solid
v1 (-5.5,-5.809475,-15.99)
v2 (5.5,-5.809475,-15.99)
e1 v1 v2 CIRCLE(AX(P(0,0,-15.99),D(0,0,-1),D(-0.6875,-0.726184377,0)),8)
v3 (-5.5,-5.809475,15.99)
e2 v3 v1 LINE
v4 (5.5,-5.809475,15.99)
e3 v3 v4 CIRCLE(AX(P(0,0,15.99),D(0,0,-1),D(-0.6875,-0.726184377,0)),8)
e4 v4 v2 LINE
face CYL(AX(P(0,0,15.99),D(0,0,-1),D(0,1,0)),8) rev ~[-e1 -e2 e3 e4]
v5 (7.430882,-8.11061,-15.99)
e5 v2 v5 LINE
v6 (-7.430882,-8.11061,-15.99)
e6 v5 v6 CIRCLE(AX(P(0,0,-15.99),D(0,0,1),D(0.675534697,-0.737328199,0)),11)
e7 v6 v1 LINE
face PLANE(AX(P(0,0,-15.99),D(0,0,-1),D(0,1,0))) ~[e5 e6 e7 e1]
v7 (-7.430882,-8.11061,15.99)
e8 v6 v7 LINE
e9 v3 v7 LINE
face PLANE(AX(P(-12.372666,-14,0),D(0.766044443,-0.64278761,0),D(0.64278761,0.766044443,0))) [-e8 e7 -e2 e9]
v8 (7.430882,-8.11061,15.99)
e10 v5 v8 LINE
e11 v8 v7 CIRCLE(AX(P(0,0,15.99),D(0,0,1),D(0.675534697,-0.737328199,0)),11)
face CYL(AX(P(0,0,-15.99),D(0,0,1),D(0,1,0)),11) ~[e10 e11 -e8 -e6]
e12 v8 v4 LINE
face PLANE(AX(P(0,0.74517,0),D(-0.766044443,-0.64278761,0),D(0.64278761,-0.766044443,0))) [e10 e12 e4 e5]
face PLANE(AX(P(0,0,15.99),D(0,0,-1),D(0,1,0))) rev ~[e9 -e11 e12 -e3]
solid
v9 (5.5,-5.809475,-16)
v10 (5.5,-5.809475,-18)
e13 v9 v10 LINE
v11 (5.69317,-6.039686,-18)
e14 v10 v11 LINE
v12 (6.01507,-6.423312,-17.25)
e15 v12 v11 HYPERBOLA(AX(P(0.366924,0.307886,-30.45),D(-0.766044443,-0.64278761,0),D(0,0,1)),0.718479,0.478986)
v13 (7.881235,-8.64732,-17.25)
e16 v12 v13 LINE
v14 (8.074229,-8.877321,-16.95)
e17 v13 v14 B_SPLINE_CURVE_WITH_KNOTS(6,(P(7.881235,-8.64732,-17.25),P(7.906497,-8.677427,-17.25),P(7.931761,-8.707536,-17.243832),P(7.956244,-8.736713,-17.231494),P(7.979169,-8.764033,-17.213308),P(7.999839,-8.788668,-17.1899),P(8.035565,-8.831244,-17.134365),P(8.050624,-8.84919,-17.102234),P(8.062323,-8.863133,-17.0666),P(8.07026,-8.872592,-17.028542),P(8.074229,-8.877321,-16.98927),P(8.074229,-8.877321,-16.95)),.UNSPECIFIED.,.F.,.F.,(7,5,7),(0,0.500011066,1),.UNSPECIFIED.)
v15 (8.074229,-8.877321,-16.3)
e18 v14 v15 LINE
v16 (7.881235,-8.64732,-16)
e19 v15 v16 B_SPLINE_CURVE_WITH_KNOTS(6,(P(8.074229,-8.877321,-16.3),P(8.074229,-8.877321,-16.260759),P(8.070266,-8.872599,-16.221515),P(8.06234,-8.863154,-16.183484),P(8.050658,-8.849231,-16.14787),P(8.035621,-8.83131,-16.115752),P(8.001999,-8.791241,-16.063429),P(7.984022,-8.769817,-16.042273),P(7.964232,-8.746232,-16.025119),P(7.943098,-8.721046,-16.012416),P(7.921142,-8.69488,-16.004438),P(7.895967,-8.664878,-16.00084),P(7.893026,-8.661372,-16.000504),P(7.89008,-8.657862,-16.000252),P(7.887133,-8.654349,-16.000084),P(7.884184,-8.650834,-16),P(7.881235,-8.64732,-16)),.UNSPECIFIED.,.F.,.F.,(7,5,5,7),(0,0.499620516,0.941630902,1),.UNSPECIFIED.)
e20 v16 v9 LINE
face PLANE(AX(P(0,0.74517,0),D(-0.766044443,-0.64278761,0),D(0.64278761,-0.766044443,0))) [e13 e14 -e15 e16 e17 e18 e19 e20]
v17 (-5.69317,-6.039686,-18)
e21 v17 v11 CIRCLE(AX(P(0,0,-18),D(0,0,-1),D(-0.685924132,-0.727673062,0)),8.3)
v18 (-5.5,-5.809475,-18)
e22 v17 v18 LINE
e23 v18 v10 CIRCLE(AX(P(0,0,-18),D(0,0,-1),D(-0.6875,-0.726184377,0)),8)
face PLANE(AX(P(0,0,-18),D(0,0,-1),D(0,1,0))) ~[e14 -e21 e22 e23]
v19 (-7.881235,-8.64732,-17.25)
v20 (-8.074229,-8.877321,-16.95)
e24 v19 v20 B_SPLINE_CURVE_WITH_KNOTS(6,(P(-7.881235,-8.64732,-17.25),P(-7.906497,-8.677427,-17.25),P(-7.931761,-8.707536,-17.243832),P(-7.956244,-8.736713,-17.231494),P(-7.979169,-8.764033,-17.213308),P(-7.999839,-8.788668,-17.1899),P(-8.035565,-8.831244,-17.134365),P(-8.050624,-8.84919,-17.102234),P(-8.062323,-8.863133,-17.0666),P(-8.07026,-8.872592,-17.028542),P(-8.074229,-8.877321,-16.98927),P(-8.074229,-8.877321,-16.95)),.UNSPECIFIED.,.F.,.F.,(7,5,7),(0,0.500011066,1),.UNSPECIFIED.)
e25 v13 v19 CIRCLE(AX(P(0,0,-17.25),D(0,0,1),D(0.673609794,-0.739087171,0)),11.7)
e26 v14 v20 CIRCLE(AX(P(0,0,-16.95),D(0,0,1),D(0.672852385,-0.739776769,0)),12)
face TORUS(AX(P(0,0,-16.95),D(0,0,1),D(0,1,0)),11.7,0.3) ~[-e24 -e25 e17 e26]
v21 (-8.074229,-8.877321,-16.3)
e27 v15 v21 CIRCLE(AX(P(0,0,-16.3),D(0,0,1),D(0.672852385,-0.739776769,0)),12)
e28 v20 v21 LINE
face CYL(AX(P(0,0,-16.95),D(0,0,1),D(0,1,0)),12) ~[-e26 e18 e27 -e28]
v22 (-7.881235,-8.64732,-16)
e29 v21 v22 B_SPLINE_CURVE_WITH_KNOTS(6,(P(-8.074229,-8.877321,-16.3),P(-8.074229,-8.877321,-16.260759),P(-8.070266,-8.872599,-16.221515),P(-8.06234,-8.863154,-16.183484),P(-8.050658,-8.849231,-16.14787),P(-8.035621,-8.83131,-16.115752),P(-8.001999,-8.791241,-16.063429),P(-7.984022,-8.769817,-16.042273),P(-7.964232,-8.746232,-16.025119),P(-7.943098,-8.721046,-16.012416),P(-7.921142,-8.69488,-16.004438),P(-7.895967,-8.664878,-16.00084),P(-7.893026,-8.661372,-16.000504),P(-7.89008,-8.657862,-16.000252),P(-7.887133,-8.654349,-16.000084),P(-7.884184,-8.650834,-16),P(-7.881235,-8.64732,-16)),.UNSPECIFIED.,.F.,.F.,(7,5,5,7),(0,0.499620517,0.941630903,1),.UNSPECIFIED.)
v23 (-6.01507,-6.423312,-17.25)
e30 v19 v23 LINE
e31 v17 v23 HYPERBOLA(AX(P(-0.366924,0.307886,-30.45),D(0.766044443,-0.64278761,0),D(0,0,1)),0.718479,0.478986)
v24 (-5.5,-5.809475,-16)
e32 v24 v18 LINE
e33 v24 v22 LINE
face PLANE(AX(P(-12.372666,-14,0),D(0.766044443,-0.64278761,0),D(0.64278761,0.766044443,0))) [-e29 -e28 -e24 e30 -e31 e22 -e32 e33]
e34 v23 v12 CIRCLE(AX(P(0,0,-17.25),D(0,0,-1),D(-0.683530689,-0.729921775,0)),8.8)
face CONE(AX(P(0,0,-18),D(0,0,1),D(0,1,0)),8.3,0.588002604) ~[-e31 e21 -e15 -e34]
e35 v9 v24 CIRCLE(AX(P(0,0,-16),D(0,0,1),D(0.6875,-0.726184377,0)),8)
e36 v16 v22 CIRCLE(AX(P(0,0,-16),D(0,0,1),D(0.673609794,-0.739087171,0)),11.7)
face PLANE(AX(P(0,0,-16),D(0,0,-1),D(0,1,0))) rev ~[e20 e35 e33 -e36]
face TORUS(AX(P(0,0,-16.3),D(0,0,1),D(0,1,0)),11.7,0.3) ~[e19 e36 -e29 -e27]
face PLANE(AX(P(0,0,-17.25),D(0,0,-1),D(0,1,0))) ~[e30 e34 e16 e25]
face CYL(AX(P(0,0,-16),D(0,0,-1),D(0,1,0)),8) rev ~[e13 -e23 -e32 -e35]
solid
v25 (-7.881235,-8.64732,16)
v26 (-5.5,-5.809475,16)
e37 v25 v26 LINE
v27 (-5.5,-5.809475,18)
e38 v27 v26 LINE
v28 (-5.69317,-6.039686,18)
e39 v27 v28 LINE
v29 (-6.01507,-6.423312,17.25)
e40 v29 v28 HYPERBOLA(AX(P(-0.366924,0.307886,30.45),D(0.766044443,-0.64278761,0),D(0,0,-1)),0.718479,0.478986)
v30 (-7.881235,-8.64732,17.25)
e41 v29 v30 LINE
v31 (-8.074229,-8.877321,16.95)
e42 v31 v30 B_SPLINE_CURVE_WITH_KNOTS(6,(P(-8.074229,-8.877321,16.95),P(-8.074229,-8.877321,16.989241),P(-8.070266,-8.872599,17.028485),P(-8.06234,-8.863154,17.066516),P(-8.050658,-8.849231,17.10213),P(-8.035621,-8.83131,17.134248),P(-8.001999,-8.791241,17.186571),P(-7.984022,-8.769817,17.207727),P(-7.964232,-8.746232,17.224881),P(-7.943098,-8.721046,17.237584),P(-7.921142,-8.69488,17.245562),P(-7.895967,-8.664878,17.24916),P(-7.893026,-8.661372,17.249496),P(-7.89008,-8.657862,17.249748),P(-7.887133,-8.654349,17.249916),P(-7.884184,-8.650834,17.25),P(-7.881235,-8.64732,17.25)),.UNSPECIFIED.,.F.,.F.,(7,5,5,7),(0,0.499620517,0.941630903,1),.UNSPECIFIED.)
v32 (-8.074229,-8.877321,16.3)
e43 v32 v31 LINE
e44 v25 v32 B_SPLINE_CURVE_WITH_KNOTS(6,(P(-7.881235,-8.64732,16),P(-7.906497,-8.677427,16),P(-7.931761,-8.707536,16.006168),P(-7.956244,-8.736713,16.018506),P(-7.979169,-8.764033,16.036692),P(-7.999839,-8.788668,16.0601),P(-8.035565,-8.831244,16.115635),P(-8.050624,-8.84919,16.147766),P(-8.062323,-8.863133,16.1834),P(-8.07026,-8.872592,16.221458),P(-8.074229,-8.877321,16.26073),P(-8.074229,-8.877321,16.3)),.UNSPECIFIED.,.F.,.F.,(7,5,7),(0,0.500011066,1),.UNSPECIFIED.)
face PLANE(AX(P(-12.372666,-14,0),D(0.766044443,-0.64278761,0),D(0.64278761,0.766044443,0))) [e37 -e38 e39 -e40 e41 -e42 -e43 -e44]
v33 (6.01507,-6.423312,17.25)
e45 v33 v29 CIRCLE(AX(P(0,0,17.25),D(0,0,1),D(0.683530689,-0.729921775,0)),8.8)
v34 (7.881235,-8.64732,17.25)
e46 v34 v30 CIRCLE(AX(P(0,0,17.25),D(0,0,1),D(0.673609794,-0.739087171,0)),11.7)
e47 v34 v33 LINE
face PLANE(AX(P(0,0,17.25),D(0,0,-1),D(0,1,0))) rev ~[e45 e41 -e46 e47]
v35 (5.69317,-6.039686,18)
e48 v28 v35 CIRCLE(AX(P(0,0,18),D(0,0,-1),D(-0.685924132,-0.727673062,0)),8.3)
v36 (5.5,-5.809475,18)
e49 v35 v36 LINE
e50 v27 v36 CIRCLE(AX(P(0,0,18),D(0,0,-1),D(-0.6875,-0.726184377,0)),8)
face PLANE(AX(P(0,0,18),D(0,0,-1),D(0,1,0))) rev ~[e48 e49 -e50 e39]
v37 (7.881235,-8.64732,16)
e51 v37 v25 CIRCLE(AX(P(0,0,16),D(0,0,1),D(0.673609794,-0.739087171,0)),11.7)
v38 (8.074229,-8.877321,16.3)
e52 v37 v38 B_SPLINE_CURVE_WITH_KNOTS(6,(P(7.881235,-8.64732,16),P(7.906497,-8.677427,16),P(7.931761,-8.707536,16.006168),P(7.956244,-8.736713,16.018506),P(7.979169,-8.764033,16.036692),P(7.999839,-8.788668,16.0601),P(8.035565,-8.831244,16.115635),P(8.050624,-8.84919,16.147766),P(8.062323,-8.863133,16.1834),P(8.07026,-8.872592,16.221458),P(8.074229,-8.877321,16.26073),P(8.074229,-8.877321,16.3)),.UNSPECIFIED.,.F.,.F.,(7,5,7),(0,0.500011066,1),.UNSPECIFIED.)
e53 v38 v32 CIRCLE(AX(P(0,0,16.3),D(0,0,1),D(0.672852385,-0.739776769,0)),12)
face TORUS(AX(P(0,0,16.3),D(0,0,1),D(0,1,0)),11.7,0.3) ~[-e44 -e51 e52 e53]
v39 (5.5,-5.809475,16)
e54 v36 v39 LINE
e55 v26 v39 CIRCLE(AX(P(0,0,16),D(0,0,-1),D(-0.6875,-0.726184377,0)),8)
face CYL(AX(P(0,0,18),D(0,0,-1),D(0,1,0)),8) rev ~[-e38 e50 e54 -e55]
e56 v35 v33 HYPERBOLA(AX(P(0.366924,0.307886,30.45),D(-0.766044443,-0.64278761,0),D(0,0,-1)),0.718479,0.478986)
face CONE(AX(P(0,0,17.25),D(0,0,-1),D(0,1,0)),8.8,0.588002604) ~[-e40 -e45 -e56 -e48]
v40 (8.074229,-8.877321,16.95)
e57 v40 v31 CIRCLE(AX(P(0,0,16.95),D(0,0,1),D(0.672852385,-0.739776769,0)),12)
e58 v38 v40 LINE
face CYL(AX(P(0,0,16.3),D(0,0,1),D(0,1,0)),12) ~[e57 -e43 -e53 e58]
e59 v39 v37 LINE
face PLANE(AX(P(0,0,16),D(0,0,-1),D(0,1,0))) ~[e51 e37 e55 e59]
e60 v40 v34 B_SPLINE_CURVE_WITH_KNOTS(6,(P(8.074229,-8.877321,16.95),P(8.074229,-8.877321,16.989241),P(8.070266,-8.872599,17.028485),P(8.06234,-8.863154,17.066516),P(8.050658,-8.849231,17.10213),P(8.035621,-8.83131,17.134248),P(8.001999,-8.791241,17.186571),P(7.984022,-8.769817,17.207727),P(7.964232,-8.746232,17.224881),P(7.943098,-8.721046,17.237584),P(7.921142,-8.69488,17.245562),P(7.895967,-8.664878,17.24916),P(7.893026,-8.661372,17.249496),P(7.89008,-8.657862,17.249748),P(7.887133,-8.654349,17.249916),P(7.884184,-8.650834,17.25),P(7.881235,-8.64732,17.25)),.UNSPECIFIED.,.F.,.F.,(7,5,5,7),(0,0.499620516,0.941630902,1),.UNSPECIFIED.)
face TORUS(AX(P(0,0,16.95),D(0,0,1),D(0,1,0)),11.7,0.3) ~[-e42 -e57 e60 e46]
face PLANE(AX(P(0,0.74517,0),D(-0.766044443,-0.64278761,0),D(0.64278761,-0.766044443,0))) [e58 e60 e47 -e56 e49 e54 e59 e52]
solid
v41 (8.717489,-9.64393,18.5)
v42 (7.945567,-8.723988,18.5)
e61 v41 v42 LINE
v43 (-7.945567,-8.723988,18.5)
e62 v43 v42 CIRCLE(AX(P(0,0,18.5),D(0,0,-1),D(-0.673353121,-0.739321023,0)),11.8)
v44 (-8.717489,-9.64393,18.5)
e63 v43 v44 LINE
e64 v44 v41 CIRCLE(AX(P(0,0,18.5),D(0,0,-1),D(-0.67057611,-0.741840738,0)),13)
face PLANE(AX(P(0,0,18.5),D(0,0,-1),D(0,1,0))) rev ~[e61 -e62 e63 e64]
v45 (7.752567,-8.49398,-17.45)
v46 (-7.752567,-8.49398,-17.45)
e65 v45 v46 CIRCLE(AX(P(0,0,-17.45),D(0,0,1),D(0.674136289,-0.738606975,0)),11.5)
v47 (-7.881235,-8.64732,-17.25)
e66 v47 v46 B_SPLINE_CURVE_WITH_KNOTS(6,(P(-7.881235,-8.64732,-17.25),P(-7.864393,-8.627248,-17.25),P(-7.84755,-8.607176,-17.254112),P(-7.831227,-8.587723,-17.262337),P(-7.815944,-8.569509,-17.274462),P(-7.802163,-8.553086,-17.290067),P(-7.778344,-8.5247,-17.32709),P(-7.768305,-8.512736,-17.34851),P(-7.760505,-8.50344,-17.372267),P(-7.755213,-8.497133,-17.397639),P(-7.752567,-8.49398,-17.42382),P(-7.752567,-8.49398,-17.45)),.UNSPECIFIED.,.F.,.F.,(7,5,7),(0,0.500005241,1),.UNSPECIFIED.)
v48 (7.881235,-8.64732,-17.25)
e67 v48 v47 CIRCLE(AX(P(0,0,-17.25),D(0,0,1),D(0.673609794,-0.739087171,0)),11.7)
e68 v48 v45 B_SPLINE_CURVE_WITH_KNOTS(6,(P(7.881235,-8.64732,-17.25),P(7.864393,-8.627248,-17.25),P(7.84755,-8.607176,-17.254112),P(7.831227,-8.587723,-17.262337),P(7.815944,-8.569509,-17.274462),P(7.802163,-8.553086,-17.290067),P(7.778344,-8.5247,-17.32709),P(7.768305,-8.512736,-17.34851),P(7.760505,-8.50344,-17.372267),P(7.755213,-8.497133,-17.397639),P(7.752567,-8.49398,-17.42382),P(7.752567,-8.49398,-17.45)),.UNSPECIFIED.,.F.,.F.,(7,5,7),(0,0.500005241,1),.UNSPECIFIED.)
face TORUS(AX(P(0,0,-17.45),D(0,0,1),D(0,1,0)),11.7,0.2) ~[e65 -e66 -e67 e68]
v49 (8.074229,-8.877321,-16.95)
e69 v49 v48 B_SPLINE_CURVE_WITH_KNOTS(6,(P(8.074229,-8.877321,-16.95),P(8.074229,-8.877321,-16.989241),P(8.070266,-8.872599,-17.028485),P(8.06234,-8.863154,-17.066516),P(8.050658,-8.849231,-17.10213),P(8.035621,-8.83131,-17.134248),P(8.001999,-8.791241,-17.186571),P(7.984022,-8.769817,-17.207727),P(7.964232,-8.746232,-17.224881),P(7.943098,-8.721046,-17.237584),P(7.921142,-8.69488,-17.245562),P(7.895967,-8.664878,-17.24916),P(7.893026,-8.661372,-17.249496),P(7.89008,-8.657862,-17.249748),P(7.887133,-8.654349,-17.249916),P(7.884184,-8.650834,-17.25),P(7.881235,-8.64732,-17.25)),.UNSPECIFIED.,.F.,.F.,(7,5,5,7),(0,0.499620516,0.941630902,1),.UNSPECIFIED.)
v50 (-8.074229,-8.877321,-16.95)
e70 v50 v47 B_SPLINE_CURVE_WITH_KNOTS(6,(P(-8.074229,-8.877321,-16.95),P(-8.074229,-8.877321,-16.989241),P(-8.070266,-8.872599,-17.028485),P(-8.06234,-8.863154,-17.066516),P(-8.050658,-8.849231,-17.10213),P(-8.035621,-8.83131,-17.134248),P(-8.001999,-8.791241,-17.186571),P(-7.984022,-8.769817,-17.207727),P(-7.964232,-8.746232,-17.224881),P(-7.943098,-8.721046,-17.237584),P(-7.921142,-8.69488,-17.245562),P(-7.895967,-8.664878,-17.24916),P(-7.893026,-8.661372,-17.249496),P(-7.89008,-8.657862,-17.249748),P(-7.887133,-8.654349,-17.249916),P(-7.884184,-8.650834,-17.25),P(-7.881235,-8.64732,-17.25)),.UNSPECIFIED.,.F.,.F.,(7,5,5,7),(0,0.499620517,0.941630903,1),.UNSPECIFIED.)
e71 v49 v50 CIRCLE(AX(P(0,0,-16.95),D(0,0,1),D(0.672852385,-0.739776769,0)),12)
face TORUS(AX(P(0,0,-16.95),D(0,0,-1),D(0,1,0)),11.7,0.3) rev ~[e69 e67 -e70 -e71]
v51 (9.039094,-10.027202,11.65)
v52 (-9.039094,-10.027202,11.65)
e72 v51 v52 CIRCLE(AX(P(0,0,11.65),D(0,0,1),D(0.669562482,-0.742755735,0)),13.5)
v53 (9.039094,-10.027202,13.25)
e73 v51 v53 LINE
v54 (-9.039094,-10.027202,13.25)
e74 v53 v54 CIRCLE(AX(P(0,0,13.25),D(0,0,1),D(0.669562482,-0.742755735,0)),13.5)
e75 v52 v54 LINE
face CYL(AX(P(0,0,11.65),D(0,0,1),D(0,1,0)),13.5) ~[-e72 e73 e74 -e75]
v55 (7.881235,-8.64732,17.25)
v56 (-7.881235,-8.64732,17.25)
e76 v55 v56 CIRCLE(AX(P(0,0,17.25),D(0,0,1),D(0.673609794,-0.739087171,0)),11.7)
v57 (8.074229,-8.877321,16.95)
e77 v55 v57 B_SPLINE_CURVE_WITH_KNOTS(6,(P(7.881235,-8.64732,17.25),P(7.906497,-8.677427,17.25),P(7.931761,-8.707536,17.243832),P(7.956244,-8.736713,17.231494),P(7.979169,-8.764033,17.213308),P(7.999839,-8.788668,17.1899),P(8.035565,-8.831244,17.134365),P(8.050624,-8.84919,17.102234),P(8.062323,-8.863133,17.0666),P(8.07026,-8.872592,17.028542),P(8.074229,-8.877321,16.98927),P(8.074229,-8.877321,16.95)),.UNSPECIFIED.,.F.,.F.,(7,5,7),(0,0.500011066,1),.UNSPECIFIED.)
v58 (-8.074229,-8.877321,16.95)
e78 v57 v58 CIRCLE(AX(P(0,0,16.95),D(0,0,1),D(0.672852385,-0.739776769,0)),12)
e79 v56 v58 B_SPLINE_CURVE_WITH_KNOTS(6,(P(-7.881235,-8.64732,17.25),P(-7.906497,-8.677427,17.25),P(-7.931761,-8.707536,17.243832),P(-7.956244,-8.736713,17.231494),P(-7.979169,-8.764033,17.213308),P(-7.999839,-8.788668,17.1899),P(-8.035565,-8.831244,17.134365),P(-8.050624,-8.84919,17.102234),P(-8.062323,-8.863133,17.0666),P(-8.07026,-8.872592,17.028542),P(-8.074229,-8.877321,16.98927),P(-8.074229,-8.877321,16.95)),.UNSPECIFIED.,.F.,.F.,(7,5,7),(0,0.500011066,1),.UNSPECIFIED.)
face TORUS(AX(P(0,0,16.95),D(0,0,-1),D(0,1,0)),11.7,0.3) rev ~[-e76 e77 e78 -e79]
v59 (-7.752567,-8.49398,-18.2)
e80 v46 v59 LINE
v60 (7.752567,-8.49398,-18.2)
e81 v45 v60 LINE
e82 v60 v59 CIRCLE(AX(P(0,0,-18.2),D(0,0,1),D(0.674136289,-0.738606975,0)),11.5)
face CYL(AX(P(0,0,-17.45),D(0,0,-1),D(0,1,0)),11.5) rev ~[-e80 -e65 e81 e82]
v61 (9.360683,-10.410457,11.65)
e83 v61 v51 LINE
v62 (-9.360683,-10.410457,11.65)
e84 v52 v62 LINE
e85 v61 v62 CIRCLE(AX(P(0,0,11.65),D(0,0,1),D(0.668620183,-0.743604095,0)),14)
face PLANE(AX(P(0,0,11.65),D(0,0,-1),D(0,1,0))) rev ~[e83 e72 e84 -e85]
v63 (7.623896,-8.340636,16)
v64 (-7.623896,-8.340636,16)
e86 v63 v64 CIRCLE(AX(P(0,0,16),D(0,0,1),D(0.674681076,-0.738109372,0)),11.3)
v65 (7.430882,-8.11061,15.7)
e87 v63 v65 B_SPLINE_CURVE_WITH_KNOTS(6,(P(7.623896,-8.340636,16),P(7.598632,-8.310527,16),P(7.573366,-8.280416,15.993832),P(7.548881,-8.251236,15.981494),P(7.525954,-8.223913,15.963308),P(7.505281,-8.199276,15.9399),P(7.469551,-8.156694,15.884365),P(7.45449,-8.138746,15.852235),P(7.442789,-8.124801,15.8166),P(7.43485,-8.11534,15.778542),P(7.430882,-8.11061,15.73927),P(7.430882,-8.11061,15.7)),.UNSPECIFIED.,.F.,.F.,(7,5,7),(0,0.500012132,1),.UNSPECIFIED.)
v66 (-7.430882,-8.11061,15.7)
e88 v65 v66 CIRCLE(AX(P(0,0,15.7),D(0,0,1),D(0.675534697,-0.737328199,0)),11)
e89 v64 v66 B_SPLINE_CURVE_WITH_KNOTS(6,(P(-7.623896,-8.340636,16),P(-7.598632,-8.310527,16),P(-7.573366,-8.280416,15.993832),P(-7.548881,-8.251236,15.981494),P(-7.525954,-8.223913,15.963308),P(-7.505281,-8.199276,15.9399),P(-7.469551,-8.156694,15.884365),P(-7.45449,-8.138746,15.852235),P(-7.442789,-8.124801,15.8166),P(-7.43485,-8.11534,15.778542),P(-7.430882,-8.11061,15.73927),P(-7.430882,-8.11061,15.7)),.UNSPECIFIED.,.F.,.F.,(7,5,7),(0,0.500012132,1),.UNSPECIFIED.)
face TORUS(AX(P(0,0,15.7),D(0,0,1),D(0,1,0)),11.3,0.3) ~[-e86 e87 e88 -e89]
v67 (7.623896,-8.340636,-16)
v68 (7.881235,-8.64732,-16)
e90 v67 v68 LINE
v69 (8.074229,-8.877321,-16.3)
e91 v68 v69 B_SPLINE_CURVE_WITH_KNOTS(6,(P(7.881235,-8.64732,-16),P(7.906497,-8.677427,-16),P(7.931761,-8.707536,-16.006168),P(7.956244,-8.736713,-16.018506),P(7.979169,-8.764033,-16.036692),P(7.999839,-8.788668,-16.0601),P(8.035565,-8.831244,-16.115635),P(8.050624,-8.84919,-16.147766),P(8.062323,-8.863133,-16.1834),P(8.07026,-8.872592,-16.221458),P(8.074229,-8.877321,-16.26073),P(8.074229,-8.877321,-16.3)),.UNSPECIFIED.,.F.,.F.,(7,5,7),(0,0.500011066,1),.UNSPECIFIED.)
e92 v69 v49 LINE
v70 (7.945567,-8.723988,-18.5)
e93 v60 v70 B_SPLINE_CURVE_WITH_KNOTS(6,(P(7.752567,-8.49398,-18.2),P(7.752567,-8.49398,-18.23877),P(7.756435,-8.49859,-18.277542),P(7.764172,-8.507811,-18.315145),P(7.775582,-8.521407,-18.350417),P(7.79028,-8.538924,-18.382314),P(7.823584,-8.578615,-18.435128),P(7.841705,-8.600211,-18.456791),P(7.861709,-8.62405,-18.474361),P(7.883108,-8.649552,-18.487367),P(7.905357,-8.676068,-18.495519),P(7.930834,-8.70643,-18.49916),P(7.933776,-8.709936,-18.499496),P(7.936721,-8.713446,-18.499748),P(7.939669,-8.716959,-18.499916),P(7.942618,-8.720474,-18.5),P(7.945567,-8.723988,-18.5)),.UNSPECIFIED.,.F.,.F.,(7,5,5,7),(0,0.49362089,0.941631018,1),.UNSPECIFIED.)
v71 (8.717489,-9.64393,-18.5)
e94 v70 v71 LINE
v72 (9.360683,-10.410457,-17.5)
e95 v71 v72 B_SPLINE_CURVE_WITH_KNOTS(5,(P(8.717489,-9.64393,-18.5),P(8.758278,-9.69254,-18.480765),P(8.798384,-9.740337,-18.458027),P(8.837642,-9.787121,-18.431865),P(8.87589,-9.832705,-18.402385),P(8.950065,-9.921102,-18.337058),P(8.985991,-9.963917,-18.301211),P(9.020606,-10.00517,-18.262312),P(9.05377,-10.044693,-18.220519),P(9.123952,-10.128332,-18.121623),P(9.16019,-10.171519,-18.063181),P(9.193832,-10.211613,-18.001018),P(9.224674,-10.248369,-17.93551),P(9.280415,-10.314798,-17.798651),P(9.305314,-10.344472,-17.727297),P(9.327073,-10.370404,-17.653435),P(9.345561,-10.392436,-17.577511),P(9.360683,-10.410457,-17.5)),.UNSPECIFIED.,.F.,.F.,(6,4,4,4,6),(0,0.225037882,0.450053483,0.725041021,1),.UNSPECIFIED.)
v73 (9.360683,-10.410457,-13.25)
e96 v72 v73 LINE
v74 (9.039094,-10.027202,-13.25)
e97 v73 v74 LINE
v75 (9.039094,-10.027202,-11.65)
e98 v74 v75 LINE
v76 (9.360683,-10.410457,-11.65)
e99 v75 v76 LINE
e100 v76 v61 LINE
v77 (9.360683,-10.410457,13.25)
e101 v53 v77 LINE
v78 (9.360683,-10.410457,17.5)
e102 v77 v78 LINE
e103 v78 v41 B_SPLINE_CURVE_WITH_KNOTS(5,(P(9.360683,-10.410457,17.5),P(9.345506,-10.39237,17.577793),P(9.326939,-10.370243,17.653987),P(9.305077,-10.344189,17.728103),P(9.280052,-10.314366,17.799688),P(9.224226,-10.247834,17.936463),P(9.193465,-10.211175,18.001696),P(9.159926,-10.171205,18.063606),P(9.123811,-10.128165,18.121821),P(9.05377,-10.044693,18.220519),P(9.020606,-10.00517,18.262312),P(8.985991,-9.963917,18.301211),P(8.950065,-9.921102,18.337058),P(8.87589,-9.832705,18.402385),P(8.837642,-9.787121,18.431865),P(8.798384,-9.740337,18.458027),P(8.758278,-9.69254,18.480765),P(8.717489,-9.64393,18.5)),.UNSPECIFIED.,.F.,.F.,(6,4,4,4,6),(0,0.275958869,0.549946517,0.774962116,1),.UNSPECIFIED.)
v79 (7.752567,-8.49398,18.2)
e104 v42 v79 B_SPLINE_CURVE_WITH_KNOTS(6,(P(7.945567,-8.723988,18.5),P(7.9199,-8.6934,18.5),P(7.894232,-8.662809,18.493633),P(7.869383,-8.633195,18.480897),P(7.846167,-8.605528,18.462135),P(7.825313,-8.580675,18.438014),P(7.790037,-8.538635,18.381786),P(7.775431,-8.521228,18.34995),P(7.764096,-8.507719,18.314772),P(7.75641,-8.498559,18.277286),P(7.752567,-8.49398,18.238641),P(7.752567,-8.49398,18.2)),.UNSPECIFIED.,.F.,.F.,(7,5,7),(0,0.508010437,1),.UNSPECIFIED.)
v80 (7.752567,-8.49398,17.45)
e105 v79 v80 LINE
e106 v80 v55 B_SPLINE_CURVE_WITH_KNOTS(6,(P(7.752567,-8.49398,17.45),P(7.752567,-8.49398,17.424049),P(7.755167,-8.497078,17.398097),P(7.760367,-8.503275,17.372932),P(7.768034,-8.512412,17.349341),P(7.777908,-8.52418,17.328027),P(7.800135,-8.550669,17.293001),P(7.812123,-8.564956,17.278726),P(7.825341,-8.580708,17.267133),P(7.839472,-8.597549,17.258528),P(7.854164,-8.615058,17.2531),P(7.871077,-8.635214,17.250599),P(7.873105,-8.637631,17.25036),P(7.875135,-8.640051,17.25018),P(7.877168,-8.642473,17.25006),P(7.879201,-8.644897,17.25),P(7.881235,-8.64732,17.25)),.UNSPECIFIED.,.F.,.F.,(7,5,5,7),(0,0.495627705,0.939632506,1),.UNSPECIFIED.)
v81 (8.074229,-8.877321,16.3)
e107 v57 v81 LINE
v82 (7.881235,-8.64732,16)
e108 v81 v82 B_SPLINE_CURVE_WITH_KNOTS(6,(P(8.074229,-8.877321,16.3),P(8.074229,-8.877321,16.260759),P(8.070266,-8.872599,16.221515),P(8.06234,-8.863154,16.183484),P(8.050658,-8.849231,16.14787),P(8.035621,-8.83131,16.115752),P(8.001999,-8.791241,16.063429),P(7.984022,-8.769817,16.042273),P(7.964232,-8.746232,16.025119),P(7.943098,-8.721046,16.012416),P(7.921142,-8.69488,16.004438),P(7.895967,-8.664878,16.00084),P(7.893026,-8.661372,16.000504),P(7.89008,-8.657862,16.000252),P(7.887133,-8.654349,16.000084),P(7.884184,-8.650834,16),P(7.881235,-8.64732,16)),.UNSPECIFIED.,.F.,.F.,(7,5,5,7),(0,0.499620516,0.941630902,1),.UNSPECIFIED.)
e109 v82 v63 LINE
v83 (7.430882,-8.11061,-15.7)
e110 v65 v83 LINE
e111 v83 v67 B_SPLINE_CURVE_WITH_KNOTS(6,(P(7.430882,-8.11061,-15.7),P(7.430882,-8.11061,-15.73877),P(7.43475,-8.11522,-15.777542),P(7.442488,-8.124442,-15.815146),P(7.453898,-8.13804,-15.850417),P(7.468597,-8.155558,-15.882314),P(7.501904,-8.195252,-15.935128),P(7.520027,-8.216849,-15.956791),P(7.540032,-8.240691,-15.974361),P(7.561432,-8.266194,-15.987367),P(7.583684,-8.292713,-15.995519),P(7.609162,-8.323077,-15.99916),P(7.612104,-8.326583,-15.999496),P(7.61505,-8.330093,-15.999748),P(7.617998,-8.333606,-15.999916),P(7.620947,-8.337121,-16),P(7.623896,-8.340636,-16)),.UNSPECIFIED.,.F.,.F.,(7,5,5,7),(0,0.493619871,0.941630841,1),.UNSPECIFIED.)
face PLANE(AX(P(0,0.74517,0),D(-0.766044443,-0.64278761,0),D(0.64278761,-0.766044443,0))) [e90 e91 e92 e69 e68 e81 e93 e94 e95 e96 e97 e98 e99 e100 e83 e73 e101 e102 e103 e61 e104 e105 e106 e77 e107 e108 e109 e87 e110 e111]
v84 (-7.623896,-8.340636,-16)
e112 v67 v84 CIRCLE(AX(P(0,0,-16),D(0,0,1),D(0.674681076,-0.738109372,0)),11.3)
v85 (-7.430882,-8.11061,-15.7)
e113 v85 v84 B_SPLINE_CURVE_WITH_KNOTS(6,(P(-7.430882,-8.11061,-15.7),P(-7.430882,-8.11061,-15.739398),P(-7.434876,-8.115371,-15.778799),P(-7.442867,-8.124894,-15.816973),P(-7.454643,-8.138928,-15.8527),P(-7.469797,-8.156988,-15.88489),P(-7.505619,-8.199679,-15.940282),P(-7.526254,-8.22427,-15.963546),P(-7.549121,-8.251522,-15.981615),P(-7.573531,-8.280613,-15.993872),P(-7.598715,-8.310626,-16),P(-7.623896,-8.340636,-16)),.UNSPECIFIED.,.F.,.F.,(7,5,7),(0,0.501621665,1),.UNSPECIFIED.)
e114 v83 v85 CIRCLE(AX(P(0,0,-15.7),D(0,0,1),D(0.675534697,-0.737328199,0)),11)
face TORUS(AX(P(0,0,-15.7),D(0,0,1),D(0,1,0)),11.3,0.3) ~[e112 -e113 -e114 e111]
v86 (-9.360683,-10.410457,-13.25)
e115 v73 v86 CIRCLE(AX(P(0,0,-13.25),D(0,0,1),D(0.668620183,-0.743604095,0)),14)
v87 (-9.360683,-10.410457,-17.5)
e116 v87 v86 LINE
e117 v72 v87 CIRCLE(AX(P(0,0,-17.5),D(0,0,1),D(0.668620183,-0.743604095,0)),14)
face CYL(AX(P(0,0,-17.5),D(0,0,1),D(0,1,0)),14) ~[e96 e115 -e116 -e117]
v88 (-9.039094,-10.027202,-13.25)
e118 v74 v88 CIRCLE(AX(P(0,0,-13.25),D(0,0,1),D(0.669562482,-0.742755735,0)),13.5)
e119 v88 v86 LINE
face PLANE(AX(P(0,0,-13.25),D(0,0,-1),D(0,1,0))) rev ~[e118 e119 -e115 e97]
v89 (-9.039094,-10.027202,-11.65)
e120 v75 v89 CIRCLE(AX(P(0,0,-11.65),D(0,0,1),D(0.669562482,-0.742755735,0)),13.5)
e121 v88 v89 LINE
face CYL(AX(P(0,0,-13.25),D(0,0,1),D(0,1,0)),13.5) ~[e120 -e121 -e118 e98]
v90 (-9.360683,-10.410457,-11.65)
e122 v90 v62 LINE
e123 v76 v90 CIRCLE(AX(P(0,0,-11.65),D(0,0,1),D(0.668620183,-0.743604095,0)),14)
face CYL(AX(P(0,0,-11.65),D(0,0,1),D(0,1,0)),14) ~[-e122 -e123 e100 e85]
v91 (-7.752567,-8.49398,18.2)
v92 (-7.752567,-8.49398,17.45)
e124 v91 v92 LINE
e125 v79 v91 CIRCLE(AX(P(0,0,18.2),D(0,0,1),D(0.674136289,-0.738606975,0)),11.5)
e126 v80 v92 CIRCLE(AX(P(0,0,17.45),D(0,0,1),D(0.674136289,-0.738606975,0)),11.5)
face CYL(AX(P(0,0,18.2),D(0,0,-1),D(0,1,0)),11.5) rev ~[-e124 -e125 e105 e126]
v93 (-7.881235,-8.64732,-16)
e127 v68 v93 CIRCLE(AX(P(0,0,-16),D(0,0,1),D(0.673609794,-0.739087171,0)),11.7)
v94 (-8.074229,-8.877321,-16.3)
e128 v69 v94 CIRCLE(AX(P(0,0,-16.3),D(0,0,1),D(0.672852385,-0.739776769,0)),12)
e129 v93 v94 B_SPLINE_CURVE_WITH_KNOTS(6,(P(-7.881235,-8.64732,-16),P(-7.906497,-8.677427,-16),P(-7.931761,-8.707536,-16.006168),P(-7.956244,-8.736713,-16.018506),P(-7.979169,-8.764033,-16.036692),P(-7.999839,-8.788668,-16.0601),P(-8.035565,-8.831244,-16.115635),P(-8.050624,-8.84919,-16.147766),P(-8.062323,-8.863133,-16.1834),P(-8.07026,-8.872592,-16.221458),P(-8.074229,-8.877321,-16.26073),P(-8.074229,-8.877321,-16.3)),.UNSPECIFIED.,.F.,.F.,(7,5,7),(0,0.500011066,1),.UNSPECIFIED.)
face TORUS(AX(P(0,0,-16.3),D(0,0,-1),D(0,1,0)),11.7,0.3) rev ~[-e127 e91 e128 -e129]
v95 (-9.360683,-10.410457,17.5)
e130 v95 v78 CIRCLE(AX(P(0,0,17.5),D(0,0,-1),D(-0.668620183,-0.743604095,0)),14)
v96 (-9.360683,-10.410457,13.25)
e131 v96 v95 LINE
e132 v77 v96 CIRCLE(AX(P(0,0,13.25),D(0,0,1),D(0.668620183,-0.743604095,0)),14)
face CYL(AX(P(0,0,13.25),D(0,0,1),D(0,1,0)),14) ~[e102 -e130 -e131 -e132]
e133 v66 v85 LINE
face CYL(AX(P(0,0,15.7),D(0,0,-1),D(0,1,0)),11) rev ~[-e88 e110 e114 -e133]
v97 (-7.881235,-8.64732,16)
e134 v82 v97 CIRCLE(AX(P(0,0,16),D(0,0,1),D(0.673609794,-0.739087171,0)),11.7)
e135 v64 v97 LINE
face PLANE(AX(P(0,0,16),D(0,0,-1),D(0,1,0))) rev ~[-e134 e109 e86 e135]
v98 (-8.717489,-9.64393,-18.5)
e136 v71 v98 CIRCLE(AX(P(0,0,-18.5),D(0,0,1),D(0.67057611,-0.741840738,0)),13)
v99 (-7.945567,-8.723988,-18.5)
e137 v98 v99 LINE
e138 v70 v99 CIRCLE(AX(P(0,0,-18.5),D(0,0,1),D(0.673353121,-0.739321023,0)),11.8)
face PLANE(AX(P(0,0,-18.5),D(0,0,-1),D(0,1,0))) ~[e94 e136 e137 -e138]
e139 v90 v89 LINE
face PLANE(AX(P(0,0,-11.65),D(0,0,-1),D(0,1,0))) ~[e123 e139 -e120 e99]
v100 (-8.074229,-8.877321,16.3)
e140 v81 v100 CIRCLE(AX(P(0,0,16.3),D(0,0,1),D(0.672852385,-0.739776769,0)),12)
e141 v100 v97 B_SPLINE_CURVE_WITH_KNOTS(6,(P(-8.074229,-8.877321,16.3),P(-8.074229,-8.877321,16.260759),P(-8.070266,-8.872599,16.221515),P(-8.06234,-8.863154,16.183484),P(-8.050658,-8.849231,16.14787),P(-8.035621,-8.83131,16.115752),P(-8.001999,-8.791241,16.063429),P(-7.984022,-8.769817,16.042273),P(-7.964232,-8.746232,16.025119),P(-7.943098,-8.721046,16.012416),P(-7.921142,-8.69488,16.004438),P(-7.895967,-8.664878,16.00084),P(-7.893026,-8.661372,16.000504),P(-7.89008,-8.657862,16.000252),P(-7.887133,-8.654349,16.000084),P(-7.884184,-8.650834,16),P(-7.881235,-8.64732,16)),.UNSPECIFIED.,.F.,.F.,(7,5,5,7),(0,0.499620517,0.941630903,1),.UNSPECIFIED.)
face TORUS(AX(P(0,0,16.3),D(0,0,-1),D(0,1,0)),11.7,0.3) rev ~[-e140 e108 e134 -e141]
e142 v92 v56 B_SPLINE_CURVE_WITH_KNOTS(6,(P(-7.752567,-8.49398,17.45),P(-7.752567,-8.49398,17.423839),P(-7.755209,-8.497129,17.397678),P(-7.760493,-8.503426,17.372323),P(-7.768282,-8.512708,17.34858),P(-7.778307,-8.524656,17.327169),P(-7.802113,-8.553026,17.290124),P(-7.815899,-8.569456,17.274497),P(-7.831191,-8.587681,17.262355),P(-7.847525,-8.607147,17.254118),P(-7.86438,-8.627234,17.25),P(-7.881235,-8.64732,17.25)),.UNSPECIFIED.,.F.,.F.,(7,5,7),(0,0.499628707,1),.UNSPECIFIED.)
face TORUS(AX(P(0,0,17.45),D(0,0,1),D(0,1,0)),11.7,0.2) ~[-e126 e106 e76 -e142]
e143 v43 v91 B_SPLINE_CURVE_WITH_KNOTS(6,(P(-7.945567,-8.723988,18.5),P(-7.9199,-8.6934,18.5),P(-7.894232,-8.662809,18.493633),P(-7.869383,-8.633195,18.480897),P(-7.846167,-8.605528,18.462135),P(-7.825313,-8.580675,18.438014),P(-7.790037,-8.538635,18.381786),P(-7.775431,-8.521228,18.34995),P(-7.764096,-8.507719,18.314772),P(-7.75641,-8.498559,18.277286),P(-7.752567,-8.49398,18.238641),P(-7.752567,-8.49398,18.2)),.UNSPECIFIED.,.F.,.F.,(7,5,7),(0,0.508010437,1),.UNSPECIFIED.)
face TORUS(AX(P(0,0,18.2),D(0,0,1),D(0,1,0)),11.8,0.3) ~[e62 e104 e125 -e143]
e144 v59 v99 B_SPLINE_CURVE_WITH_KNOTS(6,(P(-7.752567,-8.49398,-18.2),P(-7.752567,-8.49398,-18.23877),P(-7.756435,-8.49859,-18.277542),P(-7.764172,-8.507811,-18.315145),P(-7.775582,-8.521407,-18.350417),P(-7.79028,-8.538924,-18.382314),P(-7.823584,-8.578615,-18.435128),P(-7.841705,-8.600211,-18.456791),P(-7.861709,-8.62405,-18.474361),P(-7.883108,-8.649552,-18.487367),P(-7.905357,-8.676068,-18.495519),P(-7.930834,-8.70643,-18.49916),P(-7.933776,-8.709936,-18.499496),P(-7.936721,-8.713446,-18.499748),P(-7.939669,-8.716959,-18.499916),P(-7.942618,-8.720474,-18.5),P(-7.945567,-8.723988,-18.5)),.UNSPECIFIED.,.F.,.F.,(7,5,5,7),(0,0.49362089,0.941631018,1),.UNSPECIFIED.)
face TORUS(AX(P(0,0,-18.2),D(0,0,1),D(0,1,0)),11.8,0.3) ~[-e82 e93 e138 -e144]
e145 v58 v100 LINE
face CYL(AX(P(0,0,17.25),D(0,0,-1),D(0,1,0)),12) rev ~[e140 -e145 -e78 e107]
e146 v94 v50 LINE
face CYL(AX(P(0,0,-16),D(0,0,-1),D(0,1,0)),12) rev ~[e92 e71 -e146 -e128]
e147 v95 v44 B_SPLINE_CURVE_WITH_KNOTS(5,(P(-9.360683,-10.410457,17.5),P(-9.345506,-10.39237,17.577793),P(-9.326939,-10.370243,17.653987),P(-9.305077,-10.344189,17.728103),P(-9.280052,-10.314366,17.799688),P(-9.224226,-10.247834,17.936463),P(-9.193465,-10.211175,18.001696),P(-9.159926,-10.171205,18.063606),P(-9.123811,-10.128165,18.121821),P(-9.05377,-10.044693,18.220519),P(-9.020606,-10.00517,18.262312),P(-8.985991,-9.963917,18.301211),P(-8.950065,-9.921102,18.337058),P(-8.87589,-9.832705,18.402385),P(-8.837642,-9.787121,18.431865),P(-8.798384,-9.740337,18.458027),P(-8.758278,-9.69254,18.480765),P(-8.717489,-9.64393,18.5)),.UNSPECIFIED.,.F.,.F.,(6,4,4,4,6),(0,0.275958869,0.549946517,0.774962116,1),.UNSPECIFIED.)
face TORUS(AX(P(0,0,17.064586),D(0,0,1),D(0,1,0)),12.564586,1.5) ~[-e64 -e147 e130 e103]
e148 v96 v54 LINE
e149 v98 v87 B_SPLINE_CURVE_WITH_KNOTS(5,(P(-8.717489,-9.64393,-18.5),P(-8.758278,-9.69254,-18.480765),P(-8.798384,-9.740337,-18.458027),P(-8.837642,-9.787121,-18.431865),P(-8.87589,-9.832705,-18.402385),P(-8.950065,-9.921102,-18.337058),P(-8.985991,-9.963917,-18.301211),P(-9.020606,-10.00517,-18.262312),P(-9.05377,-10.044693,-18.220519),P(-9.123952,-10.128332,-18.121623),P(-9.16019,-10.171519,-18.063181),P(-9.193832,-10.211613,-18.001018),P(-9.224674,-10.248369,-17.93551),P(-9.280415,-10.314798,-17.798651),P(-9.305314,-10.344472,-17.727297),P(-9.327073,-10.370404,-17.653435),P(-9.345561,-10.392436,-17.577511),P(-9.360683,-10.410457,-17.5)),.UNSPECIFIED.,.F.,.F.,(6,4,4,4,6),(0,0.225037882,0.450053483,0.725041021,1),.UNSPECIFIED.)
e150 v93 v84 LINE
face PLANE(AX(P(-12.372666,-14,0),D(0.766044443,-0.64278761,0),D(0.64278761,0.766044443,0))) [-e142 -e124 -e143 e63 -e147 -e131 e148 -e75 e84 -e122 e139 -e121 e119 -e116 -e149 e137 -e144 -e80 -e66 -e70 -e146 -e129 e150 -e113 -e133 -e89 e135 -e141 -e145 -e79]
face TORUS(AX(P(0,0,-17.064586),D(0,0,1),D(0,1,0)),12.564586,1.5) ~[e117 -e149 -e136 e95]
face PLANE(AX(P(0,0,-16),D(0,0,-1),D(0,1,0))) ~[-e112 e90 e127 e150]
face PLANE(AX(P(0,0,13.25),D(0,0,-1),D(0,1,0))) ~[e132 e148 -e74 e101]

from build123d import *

# Parameters (mm, degrees)
CUT_EXTRUDE_1_DEPTH      = 19.5
CUT_EXTRUDE_1_DEPTH_BACK = 19.5


with BuildPart() as part:
    # Эскиз1 → Повернуть1 (revolve)
    with BuildSketch(Plane(origin=(0, 0, 0), x_dir=(0, 0, -1), z_dir=(1, 0, 0))):
        Polygon((16, 11), (16, 8), (18, 8), (18, 8.3), (17.25, 8.8), (17.25, 11), align=None)
        with BuildLine():
            Line((16, 11.7), (16, 11.3))
            Line((16, 11.3), (16, 11))
            Line((16, 11), (17.25, 11))
            Line((17.25, 11), (17.25, 11.5))
            Line((17.25, 11.5), (17.25, 11.7))
            ThreePointArc((17.25, 11.7), (17.162132034, 11.912132034), (16.95, 12))
            Line((16.95, 12), (16.3, 12))
            ThreePointArc((16.3, 12), (16.087867966, 11.912132034), (16, 11.7))
        make_face()
        Polygon((-15.7, 11), (-15.99, 11), (-15.99, 8), (15.99, 8), (15.99, 11), (15.7, 11), align=None)
        Polygon((-16, 11), (-17.25, 11), (-17.25, 8.8), (-18, 8.3), (-18, 8), (-16, 8), align=None)
        with BuildLine():
            Line((-17.25, 11.5), (-17.25, 11))
            Line((-17.25, 11), (-16, 11))
            Line((-16, 11), (-16, 11.3))
            Line((-16, 11.3), (-16, 11.7))
            ThreePointArc((-16, 11.7), (-16.087867966, 11.912132034), (-16.3, 12))
            Line((-16.3, 12), (-16.95, 12))
            ThreePointArc((-16.95, 12), (-17.162132034, 11.912132034), (-17.25, 11.7))
            Line((-17.25, 11.7), (-17.25, 11.5))
        make_face()
    revolve(axis=Axis((0, 0, 43.343199199), (0, 0, -1)))


with BuildPart() as body_2:
    # Эскиз1<3> → Повернуть2 (revolve)
    with BuildSketch(Plane(origin=(0, 0, 0), x_dir=(0, 0, -1), z_dir=(1, 0, 0))):
        with BuildLine():
            Line((-13.25, 14), (-17.5, 14))
            ThreePointArc((-17.5, 14), (-18.125245825, 13.625245825), (-18.5, 13))
            Line((-18.5, 13), (-18.5, 11.8))
            ThreePointArc((-18.5, 11.8), (-18.412132034, 11.587867966), (-18.2, 11.5))
            Line((-18.2, 11.5), (-17.45, 11.5))
            ThreePointArc((-17.45, 11.5), (-17.308578644, 11.558578644), (-17.25, 11.7))
            Line((-17.25, 11.7), (-17.25, 12))
            Line((-17.25, 12), (-16.95, 12))
            Line((-16.95, 12), (-16.3, 12))
            Line((-16.3, 12), (-16, 12))
            Line((-16, 12), (-16, 11.7))
            Line((-16, 11.7), (-16, 11.3))
            ThreePointArc((-16, 11.3), (-15.912132034, 11.087867966), (-15.7, 11))
            Line((-15.7, 11), (15.7, 11))
            ThreePointArc((15.7, 11), (15.912132034, 11.087867966), (16, 11.3))
            Line((16, 11.3), (16, 11.7))
            Line((16, 11.7), (16, 12))
            Line((16, 12), (16.3, 12))
            Line((16.3, 12), (16.95, 12))
            Line((16.95, 12), (17.25, 12))
            Line((17.25, 12), (17.25, 11.7))
            ThreePointArc((17.25, 11.7), (17.308578644, 11.558578644), (17.45, 11.5))
            Line((17.45, 11.5), (18.2, 11.5))
            ThreePointArc((18.2, 11.5), (18.412132034, 11.587867966), (18.5, 11.8))
            Line((18.5, 11.8), (18.5, 13))
            ThreePointArc((18.5, 13), (18.125245825, 13.625245825), (17.5, 14))
            Line((17.5, 14), (13.25, 14))
            Line((13.25, 14), (13.25, 13.5))
            Line((13.25, 13.5), (11.65, 13.5))
            Line((11.65, 13.5), (11.65, 14))
            Line((11.65, 14), (-11.65, 14))
            Line((-11.65, 14), (-11.65, 13.5))
            Line((-11.65, 13.5), (-13.25, 13.5))
            Line((-13.25, 13.5), (-13.25, 14))
        make_face()
        with BuildLine():
            Line((-17.25, 12), (-17.25, 11.7))
            ThreePointArc((-17.25, 11.7), (-17.162132034, 11.912132034), (-16.95, 12))
            Line((-16.95, 12), (-17.25, 12))
        make_face()
        with BuildLine():
            Line((-16, 12), (-16.3, 12))
            ThreePointArc((-16.3, 12), (-16.087867966, 11.912132034), (-16, 11.7))
            Line((-16, 11.7), (-16, 12))
        make_face()
        with BuildLine():
            Line((16, 12), (16, 11.7))
            ThreePointArc((16, 11.7), (16.087867966, 11.912132034), (16.3, 12))
            Line((16.3, 12), (16, 12))
        make_face()
        with BuildLine():
            ThreePointArc((16.95, 12), (17.162132034, 11.912132034), (17.25, 11.7))
            Line((17.25, 11.7), (17.25, 12))
            Line((17.25, 12), (16.95, 12))
        make_face()
    revolve(axis=Axis((0, 0, 43.343199199), (0, 0, -1)))


with BuildPart() as cut_extrude_1_tool:
    # Эскиз2 → Вырез-Вытянуть1 (new body, two sides)
    with BuildSketch(Plane.XY) as cut_extrude_1_sk:
        Polygon((0, 0.74516974), (12.37266649, -14), (-12.37266649, -14), align=None)
    extrude(amount=CUT_EXTRUDE_1_DEPTH)
    extrude(cut_extrude_1_sk.sketch, amount=-CUT_EXTRUDE_1_DEPTH_BACK)


with BuildPart() as part_1:
    add(part.part)

    # Вырез-Вытянуть1: cut by cut_extrude_1_tool
    add(cut_extrude_1_tool.part, mode=Mode.SUBTRACT)


with BuildPart() as body_2_1:
    add(body_2.part)

    # Вырез-Вытянуть1: cut by cut_extrude_1_tool
    add(cut_extrude_1_tool.part, mode=Mode.SUBTRACT)


solid = Compound([part_1.part, body_2_1.part])
